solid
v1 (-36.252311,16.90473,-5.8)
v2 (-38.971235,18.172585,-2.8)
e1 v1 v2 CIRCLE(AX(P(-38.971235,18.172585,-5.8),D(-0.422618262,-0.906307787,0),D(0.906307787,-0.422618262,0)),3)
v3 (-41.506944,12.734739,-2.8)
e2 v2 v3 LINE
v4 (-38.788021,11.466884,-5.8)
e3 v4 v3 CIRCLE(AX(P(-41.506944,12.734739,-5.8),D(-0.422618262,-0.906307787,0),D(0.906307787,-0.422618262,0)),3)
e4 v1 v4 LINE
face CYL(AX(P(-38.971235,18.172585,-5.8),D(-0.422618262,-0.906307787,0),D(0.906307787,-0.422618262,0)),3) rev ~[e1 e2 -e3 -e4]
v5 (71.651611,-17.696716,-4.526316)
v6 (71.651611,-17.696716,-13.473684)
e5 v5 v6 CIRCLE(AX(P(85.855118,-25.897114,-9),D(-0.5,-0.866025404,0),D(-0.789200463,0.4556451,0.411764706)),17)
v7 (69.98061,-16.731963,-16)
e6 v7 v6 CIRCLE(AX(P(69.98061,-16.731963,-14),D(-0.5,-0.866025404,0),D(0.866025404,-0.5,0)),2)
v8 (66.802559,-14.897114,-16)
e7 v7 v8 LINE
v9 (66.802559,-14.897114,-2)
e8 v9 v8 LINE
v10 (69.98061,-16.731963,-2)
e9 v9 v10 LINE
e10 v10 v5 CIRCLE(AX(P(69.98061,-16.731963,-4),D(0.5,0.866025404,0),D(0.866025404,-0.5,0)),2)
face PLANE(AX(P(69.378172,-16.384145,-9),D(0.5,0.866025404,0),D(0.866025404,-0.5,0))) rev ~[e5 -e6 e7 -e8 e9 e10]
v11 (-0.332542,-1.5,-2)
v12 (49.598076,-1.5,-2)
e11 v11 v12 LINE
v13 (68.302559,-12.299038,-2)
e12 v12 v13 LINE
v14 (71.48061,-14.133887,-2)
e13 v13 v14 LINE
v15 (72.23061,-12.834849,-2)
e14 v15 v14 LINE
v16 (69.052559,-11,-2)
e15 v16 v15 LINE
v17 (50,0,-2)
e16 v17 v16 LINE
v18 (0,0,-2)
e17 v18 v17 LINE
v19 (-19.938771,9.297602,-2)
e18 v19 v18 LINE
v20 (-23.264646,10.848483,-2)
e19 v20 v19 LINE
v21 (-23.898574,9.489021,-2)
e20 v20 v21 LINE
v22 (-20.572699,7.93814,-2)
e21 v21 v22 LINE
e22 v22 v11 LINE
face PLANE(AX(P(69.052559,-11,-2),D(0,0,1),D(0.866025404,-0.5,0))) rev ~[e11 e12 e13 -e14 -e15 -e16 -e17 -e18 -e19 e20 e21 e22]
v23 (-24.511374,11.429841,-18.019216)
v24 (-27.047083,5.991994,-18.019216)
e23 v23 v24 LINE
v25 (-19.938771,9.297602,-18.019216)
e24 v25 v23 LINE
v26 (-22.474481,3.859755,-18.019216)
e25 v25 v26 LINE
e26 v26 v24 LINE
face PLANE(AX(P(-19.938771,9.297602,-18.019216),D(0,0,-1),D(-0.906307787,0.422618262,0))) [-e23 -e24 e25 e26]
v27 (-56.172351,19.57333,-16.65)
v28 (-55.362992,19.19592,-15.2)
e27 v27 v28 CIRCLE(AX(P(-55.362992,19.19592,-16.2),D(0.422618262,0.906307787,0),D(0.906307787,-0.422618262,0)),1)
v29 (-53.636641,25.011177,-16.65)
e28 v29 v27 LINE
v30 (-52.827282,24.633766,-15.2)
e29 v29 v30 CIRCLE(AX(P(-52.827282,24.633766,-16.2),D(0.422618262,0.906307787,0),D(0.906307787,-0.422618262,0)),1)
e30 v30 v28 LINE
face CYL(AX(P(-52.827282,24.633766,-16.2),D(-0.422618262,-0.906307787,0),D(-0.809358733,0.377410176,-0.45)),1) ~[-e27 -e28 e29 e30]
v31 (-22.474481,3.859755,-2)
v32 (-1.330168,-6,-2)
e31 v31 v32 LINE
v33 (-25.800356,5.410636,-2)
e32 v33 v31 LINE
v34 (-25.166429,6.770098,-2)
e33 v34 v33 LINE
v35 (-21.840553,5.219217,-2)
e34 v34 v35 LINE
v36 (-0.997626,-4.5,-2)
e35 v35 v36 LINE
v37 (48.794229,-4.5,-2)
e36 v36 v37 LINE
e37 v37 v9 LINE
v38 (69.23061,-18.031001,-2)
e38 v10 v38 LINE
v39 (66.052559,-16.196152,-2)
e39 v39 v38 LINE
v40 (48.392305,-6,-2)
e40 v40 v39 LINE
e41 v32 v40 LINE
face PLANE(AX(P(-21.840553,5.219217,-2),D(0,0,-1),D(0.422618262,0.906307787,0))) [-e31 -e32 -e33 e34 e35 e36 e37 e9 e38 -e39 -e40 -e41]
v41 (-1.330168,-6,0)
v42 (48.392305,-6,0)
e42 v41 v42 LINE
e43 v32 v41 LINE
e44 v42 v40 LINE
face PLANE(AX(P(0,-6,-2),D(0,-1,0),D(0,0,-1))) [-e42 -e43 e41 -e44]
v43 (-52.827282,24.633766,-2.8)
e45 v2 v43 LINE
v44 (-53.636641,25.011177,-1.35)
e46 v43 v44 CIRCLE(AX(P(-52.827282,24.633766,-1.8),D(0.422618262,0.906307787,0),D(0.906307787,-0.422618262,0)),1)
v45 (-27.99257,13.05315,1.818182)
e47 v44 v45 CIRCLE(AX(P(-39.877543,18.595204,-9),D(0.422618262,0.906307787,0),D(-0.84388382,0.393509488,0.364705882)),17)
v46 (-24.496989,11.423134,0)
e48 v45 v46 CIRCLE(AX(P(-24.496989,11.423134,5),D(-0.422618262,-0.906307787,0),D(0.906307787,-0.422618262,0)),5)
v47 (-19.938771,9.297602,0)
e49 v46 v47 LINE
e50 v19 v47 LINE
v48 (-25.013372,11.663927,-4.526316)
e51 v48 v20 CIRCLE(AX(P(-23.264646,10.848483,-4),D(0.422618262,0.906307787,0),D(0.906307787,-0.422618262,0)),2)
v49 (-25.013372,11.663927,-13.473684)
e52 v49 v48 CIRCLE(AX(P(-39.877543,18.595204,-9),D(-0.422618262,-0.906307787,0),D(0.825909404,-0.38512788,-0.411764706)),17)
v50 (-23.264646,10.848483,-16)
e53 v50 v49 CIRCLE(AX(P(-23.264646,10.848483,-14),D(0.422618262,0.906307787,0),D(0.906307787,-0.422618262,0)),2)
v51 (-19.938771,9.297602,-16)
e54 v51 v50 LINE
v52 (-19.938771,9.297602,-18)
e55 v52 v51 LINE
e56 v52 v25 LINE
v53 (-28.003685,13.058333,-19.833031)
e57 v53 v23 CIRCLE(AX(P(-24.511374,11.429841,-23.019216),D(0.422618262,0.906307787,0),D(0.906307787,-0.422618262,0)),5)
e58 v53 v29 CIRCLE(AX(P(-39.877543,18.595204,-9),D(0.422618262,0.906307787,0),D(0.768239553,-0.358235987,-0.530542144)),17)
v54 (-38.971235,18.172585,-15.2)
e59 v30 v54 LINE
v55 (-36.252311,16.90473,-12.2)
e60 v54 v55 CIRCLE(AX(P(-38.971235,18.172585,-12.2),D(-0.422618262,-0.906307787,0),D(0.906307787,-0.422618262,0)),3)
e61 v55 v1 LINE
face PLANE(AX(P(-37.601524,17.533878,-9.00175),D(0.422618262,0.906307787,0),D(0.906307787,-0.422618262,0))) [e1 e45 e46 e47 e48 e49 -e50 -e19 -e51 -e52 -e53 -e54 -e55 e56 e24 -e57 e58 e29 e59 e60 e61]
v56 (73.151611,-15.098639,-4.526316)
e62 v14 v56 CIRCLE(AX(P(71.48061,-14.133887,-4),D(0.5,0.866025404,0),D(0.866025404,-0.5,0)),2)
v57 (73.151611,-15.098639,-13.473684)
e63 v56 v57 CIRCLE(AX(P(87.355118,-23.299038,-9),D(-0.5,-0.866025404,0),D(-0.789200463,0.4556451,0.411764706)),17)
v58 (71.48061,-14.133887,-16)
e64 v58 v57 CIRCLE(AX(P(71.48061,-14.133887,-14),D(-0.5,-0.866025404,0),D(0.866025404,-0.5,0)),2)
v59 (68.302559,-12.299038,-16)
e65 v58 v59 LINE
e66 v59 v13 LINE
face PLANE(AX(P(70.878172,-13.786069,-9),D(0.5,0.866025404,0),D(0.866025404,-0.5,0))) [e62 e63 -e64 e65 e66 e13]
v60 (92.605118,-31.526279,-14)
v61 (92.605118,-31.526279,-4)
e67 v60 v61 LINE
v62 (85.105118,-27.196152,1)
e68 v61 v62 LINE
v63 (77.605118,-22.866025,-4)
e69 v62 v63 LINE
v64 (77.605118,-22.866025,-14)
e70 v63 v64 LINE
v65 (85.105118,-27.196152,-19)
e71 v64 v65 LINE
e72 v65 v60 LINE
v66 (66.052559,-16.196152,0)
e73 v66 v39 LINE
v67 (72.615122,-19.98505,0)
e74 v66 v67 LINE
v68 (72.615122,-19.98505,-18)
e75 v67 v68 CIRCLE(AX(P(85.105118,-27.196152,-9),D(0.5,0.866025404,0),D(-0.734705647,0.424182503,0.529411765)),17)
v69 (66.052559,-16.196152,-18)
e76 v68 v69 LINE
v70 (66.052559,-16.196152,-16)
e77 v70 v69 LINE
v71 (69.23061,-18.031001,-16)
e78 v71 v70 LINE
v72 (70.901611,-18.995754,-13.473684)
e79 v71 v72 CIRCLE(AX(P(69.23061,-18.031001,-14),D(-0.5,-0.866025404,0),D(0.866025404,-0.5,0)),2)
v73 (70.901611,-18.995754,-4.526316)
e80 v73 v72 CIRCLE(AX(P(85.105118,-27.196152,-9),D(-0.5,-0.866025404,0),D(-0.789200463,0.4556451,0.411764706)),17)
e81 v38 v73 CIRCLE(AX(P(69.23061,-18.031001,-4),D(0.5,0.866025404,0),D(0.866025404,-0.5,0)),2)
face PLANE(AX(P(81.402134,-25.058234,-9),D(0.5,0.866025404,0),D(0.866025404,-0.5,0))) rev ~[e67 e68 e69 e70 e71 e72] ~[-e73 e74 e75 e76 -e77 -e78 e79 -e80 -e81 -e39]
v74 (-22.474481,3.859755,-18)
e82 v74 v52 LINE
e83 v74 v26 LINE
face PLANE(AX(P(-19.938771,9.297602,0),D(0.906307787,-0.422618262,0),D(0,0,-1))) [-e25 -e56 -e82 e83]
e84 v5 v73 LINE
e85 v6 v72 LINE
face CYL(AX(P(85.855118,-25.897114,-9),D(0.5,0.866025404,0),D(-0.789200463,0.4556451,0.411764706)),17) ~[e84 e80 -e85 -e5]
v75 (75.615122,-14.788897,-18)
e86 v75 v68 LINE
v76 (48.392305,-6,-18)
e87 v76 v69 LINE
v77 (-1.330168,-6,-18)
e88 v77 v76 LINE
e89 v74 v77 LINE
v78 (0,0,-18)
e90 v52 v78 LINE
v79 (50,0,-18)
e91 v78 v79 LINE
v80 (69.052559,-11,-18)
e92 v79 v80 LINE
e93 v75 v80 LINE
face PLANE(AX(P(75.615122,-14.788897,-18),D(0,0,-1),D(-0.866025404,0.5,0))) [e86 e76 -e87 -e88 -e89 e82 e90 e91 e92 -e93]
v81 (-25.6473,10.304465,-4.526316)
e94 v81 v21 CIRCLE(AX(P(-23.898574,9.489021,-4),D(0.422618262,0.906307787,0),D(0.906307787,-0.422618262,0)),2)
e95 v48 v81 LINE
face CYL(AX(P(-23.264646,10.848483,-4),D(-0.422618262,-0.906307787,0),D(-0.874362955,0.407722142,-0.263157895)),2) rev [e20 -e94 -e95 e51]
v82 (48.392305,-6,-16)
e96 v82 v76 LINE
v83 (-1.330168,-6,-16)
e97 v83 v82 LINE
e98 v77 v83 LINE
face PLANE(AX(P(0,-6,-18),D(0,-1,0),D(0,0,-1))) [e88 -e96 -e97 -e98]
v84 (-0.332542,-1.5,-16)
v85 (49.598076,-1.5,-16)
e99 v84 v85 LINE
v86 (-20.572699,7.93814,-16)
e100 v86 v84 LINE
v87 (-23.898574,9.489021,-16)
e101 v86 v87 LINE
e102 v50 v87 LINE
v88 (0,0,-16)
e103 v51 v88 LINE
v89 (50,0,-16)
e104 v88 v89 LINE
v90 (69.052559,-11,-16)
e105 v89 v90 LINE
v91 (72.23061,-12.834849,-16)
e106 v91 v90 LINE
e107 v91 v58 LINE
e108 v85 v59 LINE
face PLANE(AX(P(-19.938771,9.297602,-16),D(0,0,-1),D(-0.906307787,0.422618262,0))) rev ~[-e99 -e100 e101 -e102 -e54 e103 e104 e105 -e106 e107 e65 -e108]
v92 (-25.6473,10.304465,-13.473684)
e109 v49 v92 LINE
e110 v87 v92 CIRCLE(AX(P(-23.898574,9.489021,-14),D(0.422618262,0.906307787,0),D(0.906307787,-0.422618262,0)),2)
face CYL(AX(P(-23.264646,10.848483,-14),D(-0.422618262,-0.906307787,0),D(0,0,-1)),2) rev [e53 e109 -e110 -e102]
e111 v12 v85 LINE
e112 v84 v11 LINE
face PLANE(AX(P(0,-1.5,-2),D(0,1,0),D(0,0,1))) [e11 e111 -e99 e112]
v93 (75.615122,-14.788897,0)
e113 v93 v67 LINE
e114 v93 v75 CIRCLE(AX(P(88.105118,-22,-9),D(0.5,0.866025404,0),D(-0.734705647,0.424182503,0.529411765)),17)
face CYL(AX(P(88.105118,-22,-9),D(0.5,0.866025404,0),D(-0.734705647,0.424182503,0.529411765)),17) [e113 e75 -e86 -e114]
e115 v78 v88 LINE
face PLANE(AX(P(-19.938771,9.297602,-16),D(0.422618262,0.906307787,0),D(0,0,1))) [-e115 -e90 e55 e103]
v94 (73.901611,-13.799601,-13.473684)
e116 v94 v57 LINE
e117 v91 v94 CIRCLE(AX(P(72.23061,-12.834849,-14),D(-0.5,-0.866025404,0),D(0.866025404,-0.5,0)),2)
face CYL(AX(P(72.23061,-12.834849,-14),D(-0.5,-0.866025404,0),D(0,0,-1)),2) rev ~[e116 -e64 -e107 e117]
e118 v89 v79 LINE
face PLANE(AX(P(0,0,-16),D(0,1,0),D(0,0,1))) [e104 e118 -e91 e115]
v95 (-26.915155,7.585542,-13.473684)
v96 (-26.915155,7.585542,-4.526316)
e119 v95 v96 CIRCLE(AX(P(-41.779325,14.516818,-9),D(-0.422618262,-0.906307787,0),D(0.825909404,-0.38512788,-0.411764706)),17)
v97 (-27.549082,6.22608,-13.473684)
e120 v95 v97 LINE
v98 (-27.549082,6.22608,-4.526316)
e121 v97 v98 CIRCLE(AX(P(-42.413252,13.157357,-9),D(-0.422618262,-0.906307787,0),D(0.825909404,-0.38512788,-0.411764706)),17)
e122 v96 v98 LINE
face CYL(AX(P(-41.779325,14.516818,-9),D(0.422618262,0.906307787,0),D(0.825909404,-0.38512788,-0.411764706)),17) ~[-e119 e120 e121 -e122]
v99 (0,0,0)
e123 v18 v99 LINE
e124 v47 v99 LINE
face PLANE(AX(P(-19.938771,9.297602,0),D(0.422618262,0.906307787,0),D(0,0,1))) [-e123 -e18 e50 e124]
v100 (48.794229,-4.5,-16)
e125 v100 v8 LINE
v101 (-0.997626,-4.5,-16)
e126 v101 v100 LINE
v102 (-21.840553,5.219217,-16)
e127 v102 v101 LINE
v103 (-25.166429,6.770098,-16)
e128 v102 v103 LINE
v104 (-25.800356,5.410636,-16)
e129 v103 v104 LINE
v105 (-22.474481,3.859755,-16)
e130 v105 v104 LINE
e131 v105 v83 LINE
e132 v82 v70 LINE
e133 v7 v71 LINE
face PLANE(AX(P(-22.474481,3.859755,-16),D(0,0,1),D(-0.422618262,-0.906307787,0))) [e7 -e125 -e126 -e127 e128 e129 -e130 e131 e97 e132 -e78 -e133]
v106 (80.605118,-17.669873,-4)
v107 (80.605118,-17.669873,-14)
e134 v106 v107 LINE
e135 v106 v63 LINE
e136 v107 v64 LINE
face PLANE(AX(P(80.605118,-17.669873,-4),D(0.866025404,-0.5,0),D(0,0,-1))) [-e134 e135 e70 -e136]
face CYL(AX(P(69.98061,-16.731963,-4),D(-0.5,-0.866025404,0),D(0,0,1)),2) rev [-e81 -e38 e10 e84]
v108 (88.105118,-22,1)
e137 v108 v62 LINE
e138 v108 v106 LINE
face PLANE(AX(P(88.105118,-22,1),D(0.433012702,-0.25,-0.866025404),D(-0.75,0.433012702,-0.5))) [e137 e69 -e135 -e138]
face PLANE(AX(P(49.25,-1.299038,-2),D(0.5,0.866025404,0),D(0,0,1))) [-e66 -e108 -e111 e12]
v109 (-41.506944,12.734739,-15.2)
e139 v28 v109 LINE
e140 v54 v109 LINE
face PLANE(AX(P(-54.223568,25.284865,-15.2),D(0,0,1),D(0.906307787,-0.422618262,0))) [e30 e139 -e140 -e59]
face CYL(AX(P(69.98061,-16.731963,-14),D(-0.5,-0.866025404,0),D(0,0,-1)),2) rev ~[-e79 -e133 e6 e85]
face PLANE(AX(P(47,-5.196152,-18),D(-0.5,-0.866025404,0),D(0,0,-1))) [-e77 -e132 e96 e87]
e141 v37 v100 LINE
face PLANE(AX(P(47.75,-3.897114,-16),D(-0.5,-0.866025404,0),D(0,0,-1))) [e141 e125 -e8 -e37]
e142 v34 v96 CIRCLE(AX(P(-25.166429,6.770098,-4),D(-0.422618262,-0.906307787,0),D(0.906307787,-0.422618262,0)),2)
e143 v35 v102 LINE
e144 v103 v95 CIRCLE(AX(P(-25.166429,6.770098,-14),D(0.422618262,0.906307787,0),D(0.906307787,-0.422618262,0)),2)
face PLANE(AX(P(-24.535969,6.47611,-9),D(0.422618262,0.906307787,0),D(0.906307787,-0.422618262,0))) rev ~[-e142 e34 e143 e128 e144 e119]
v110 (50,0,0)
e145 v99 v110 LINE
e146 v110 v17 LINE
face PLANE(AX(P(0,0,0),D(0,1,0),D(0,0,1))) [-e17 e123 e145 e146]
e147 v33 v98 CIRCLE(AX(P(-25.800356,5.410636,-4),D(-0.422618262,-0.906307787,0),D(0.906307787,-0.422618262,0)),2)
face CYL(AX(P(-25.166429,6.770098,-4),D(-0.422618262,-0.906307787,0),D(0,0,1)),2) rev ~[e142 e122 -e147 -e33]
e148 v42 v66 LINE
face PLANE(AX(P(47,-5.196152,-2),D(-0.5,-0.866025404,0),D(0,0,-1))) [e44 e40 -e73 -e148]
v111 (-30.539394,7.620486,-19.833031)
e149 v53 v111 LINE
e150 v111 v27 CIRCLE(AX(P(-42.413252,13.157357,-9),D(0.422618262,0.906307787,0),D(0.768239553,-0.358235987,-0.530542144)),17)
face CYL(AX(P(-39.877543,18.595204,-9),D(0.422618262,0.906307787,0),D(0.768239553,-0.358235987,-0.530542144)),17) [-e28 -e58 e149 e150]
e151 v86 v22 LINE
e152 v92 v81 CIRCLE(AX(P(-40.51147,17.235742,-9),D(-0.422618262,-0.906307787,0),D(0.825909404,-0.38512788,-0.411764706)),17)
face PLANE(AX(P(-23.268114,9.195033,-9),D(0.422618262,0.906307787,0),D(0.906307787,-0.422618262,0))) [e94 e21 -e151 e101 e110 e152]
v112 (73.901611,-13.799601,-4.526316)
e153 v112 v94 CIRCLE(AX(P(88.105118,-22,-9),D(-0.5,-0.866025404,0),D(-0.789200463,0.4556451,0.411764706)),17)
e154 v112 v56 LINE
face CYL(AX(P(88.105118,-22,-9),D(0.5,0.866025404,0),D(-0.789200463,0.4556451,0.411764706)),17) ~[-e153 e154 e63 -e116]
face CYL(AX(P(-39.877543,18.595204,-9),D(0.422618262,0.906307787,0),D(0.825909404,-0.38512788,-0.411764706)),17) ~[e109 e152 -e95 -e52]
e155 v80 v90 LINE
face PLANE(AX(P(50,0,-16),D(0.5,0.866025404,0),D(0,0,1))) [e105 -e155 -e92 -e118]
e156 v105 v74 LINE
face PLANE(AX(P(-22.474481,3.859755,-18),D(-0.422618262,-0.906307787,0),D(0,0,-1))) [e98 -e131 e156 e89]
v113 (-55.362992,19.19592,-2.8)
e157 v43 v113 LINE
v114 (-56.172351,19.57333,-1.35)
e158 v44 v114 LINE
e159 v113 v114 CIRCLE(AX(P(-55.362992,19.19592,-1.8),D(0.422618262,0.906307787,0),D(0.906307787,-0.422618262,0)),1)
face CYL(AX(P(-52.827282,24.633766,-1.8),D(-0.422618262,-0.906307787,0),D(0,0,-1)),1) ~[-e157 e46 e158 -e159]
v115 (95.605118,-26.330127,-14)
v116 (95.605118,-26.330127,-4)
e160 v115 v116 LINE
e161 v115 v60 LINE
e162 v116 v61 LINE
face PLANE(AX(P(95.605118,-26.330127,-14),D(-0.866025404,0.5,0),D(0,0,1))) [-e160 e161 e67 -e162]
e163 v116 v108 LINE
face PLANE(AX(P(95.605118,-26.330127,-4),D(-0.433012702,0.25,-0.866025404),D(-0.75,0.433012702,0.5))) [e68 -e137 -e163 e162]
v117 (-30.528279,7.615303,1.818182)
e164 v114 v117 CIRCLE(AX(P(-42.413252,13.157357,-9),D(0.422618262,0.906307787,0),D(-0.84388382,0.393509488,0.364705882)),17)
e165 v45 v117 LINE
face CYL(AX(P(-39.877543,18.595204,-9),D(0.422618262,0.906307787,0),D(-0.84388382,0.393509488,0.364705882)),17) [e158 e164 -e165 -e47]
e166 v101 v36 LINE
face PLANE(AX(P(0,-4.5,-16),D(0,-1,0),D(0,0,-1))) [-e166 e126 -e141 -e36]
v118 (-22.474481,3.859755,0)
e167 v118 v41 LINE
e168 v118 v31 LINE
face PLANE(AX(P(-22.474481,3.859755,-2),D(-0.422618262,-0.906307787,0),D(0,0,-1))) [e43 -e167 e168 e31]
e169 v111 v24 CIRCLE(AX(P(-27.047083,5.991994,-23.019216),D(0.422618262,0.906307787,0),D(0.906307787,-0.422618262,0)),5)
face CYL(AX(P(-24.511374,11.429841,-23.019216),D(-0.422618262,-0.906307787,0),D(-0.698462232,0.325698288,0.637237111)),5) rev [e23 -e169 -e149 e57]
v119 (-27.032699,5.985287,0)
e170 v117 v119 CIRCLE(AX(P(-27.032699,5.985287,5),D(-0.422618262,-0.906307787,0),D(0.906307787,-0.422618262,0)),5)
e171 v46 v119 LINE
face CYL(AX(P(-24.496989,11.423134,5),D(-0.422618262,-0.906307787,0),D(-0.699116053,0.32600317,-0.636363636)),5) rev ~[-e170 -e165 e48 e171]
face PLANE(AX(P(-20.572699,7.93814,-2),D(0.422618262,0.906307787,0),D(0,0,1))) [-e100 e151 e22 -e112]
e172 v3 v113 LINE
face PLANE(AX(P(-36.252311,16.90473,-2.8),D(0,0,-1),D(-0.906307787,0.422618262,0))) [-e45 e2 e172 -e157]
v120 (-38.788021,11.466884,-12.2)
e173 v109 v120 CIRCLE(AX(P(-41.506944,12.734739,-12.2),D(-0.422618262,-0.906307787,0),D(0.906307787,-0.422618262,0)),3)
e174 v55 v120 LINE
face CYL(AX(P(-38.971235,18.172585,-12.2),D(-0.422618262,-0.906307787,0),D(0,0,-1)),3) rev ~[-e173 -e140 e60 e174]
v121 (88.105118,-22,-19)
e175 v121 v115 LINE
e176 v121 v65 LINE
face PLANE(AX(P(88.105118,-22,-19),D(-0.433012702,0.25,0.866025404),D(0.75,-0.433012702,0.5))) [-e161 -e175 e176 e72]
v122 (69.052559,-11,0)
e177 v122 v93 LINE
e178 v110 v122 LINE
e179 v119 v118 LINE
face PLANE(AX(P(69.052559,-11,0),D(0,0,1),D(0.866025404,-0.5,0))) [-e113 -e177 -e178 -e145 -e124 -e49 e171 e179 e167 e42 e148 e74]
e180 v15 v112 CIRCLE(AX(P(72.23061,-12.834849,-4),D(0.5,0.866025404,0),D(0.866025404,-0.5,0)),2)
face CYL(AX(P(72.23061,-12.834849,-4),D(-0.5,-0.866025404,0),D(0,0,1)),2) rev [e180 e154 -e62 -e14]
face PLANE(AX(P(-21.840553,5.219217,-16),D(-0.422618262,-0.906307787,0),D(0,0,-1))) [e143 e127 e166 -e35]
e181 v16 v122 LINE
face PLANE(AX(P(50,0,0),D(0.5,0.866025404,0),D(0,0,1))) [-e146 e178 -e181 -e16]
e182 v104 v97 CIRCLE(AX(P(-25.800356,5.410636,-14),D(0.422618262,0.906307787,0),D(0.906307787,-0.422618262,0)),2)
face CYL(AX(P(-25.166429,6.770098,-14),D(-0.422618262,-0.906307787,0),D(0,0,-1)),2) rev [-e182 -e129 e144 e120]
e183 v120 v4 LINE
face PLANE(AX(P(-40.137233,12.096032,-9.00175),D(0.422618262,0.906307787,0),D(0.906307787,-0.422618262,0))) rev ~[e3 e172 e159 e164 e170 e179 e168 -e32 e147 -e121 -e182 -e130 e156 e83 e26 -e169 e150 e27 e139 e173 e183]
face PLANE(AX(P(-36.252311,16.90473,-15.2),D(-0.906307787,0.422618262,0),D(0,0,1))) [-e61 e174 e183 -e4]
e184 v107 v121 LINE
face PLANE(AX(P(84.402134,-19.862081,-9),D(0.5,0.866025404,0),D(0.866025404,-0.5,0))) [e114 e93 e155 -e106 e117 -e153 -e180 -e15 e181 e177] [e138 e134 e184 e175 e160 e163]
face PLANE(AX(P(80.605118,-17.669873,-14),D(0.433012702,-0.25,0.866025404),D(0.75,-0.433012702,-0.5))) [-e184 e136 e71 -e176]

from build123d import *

# Parameters (mm, degrees)
EXTRUDE_START       = 1.5
EXTRUDE_1_DEPTH     = 6
FILLET_1_R          = 1
FILLET_2_R          = 5
FILLET_3_R          = 3
CUT_EXTRUDE_1_DEPTH = 1.5
FILLET_4_R          = 2
CUT_EXTRUDE_START   = -4.5
CUT_EXTRUDE_2_DEPTH = 1.5
FILLET_5_R          = 2
EXTRUDE_2_DEPTH     = 6
CUT_EXTRUDE_3_DEPTH = 1.5
FILLET_6_R          = 2
CUT_EXTRUDE_4_DEPTH = 1.5
FILLET_7_R          = 2


with BuildPart() as part:
    # 扫描2: sweep along a path in 草图1
    with BuildLine(Plane.XY) as sweep_2_path:
        Line((-19.938771315, 9.297601758), (0, 0))
        Line((0, 0), (50, 0))
        Line((50, 0), (69.052558883, -11))
    # 草图2 → 扫描2 (sweep)
    with BuildSketch(Plane(origin=(0, 0, 0), x_dir=(0, 0, -1), z_dir=(1, 0, 0))):
        Polygon((0, 0), (2, 0), (2, -1.5), (16, -1.5), (16, 0), (18, 0), (18, -6), (16, -6), (16, -4.5), (2, -4.5), (2, -6), (0, -6), align=None)
    sweep(path=sweep_2_path.line, transition=Transition.RIGHT)

    # 草图3 → 凸台-拉伸1 (add)
    with BuildSketch(Plane(origin=(-0.633927393, -1.359461681, 0), x_dir=(0.9063077870366528, -0.42261826174069356, 0), z_dir=(0.42261826174069356, 0.9063077870366528, 0)).offset(EXTRUDE_START)):
        with BuildLine():
            Line((-22, 9), (-22, 18.019216451))
            Line((-22, 18.019216451), (-29.589804491, 18.019216451))
            ThreePointArc((-29.589804491, 18.019216451), (-45.578071203, 25.926597156), (-59.82908715, 15.2))
            Line((-59.82908715, 15.2), (-40, 15.2))
            Line((-40, 15.2), (-40, 9))
            Line((-40, 9), (-40, 2.8))
            Line((-40, 2.8), (-59.82908715, 2.8))
            ThreePointArc((-59.82908715, 2.8), (-45.56678948, -7.927645162), (-29.577794898, 0))
            Line((-29.577794898, 0), (-22, 0))
            Line((-22, 0), (-22, 9))
        make_face()
    extrude(amount=-EXTRUDE_1_DEPTH)

    # 圆角1
    fillet_1_edges = [part.edges().sort_by_distance(p)[0] for p in [
        (-55.49142236, 22.565941452, -2.8),
        (-55.49142236, 22.565941452, -15.2),
    ]]
    fillet(fillet_1_edges, radius=FILLET_1_R)

    # 圆角2
    fillet_2_edges = [part.edges().sort_by_distance(p)[0] for p in [
        (-28.085325012, 9.786268378, -18.019216451),
        (-28.074440625, 9.781192905, 0),
    ]]
    fillet(fillet_2_edges, radius=FILLET_2_R)

    # 圆角3
    fillet_3_edges = [part.edges().sort_by_distance(p)[0] for p in [
        (-37.520166267, 14.185807109, -2.8),
        (-37.520166267, 14.185807109, -15.2),
    ]]
    fillet(fillet_3_edges, radius=FILLET_3_R)

    # 草图4 → 切除-拉伸1 (cut)
    with BuildSketch(Plane(origin=(0, 0, 0), x_dir=(0.9063077870366528, -0.42261826174069356, 0), z_dir=(0.42261826174069356, 0.9063077870366528, 0))):
        with BuildLine():
            Line((-22, 16), (-28.508066615, 16))
            ThreePointArc((-28.508066615, 16), (-27, 9), (-28.508066615, 2))
            Line((-28.508066615, 2), (-22, 2))
            Line((-22, 2), (-22, 16))
        make_face()
    extrude(amount=-CUT_EXTRUDE_1_DEPTH, mode=Mode.SUBTRACT)

    # 圆角4
    fillet_4_edges = [part.edges().sort_by_distance(p)[0] for p in [
        (-26.154046463, 11.368298718, -2),
        (-26.154046463, 11.368298718, -16),
    ]]
    fillet(fillet_4_edges, radius=FILLET_4_R)

    # 草图4<2> → 切除-拉伸2 (cut)
    with BuildSketch(Plane(origin=(0, 0, 0), x_dir=(0.9063077870366528, -0.42261826174069356, 0), z_dir=(0.42261826174069356, 0.9063077870366528, 0)).offset(CUT_EXTRUDE_START)):
        with BuildLine():
            Line((-22, 16), (-28.508066615, 16))
            ThreePointArc((-28.508066615, 16), (-27, 9), (-28.508066615, 2))
            Line((-28.508066615, 2), (-22, 2))
            Line((-22, 2), (-22, 16))
        make_face()
    extrude(amount=-CUT_EXTRUDE_2_DEPTH, mode=Mode.SUBTRACT)

    # 圆角5
    fillet_5_edges = [part.edges().sort_by_distance(p)[0] for p in [
        (-28.055828641, 7.289913677, -16),
        (-28.055828641, 7.289913677, -2),
    ]]
    fillet(fillet_5_edges, radius=FILLET_5_R)

    # 草图7 → 凸台-拉伸2 (add)
    with BuildSketch(Plane(origin=(12.5, 21.650635095, 0), x_dir=(0.866025403784438, -0.5000000000000012, 0), z_dir=(0.5000000000000011, 0.8660254037844379, 0))):
        with BuildLine():
            Line((72.879065087, 18), (65.301270189, 18))
            Line((65.301270189, 18), (65.301270189, 16))
            Line((65.301270189, 16), (65.301270189, 0))
            Line((65.301270189, 0), (72.879065087, 0))
            ThreePointArc((72.879065087, 0), (104.301270189, 9), (72.879065087, 18))
        make_face()
        Polygon((78.641016151, 14), (87.301270189, 19), (95.961524227, 14), (95.961524227, 4), (87.301270189, -1), (78.641016151, 4), align=None, mode=Mode.SUBTRACT)
    extrude(amount=-EXTRUDE_2_DEPTH)

    # 草图8 → 切除-拉伸3 (cut)
    with BuildSketch(Plane(origin=(12.5, 21.650635095, 0), x_dir=(0.866025403784438, -0.5000000000000012, 0), z_dir=(0.5000000000000011, 0.8660254037844379, 0))):
        with BuildLine():
            Line((65.301270189, 16), (65.301270189, 2))
            Line((65.301270189, 2), (71.809336804, 2))
            ThreePointArc((71.809336804, 2), (70.301270189, 9), (71.809336804, 16))
            Line((71.809336804, 16), (65.301270189, 16))
        make_face()
    extrude(amount=-CUT_EXTRUDE_3_DEPTH, mode=Mode.SUBTRACT)

    # 圆角6
    fillet_6_edges = [part.edges().sort_by_distance(p)[0] for p in [
        (74.313709902, -14.90355236, -16),
        (74.313709902, -14.90355236, -2),
    ]]
    fillet(fillet_6_edges, radius=FILLET_6_R)

    # 草图8<2> → 切除-拉伸4 (cut)
    with BuildSketch(Plane(origin=(12.5, 21.650635095, 0), x_dir=(0.866025403784438, -0.5000000000000012, 0), z_dir=(0.5000000000000011, 0.8660254037844379, 0)).offset(CUT_EXTRUDE_START)):
        with BuildLine():
            Line((65.301270189, 16), (65.301270189, 2))
            Line((65.301270189, 2), (71.809336804, 2))
            ThreePointArc((71.809336804, 2), (70.301270189, 9), (71.809336804, 16))
            Line((71.809336804, 16), (65.301270189, 16))
        make_face()
    extrude(amount=-CUT_EXTRUDE_4_DEPTH, mode=Mode.SUBTRACT)

    # 圆角7
    fillet_7_edges = [part.edges().sort_by_distance(p)[0] for p in [
        (72.063709902, -18.800666677, -16),
        (72.063709902, -18.800666677, -2),
    ]]
    fillet(fillet_7_edges, radius=FILLET_7_R)


solid = part.part
